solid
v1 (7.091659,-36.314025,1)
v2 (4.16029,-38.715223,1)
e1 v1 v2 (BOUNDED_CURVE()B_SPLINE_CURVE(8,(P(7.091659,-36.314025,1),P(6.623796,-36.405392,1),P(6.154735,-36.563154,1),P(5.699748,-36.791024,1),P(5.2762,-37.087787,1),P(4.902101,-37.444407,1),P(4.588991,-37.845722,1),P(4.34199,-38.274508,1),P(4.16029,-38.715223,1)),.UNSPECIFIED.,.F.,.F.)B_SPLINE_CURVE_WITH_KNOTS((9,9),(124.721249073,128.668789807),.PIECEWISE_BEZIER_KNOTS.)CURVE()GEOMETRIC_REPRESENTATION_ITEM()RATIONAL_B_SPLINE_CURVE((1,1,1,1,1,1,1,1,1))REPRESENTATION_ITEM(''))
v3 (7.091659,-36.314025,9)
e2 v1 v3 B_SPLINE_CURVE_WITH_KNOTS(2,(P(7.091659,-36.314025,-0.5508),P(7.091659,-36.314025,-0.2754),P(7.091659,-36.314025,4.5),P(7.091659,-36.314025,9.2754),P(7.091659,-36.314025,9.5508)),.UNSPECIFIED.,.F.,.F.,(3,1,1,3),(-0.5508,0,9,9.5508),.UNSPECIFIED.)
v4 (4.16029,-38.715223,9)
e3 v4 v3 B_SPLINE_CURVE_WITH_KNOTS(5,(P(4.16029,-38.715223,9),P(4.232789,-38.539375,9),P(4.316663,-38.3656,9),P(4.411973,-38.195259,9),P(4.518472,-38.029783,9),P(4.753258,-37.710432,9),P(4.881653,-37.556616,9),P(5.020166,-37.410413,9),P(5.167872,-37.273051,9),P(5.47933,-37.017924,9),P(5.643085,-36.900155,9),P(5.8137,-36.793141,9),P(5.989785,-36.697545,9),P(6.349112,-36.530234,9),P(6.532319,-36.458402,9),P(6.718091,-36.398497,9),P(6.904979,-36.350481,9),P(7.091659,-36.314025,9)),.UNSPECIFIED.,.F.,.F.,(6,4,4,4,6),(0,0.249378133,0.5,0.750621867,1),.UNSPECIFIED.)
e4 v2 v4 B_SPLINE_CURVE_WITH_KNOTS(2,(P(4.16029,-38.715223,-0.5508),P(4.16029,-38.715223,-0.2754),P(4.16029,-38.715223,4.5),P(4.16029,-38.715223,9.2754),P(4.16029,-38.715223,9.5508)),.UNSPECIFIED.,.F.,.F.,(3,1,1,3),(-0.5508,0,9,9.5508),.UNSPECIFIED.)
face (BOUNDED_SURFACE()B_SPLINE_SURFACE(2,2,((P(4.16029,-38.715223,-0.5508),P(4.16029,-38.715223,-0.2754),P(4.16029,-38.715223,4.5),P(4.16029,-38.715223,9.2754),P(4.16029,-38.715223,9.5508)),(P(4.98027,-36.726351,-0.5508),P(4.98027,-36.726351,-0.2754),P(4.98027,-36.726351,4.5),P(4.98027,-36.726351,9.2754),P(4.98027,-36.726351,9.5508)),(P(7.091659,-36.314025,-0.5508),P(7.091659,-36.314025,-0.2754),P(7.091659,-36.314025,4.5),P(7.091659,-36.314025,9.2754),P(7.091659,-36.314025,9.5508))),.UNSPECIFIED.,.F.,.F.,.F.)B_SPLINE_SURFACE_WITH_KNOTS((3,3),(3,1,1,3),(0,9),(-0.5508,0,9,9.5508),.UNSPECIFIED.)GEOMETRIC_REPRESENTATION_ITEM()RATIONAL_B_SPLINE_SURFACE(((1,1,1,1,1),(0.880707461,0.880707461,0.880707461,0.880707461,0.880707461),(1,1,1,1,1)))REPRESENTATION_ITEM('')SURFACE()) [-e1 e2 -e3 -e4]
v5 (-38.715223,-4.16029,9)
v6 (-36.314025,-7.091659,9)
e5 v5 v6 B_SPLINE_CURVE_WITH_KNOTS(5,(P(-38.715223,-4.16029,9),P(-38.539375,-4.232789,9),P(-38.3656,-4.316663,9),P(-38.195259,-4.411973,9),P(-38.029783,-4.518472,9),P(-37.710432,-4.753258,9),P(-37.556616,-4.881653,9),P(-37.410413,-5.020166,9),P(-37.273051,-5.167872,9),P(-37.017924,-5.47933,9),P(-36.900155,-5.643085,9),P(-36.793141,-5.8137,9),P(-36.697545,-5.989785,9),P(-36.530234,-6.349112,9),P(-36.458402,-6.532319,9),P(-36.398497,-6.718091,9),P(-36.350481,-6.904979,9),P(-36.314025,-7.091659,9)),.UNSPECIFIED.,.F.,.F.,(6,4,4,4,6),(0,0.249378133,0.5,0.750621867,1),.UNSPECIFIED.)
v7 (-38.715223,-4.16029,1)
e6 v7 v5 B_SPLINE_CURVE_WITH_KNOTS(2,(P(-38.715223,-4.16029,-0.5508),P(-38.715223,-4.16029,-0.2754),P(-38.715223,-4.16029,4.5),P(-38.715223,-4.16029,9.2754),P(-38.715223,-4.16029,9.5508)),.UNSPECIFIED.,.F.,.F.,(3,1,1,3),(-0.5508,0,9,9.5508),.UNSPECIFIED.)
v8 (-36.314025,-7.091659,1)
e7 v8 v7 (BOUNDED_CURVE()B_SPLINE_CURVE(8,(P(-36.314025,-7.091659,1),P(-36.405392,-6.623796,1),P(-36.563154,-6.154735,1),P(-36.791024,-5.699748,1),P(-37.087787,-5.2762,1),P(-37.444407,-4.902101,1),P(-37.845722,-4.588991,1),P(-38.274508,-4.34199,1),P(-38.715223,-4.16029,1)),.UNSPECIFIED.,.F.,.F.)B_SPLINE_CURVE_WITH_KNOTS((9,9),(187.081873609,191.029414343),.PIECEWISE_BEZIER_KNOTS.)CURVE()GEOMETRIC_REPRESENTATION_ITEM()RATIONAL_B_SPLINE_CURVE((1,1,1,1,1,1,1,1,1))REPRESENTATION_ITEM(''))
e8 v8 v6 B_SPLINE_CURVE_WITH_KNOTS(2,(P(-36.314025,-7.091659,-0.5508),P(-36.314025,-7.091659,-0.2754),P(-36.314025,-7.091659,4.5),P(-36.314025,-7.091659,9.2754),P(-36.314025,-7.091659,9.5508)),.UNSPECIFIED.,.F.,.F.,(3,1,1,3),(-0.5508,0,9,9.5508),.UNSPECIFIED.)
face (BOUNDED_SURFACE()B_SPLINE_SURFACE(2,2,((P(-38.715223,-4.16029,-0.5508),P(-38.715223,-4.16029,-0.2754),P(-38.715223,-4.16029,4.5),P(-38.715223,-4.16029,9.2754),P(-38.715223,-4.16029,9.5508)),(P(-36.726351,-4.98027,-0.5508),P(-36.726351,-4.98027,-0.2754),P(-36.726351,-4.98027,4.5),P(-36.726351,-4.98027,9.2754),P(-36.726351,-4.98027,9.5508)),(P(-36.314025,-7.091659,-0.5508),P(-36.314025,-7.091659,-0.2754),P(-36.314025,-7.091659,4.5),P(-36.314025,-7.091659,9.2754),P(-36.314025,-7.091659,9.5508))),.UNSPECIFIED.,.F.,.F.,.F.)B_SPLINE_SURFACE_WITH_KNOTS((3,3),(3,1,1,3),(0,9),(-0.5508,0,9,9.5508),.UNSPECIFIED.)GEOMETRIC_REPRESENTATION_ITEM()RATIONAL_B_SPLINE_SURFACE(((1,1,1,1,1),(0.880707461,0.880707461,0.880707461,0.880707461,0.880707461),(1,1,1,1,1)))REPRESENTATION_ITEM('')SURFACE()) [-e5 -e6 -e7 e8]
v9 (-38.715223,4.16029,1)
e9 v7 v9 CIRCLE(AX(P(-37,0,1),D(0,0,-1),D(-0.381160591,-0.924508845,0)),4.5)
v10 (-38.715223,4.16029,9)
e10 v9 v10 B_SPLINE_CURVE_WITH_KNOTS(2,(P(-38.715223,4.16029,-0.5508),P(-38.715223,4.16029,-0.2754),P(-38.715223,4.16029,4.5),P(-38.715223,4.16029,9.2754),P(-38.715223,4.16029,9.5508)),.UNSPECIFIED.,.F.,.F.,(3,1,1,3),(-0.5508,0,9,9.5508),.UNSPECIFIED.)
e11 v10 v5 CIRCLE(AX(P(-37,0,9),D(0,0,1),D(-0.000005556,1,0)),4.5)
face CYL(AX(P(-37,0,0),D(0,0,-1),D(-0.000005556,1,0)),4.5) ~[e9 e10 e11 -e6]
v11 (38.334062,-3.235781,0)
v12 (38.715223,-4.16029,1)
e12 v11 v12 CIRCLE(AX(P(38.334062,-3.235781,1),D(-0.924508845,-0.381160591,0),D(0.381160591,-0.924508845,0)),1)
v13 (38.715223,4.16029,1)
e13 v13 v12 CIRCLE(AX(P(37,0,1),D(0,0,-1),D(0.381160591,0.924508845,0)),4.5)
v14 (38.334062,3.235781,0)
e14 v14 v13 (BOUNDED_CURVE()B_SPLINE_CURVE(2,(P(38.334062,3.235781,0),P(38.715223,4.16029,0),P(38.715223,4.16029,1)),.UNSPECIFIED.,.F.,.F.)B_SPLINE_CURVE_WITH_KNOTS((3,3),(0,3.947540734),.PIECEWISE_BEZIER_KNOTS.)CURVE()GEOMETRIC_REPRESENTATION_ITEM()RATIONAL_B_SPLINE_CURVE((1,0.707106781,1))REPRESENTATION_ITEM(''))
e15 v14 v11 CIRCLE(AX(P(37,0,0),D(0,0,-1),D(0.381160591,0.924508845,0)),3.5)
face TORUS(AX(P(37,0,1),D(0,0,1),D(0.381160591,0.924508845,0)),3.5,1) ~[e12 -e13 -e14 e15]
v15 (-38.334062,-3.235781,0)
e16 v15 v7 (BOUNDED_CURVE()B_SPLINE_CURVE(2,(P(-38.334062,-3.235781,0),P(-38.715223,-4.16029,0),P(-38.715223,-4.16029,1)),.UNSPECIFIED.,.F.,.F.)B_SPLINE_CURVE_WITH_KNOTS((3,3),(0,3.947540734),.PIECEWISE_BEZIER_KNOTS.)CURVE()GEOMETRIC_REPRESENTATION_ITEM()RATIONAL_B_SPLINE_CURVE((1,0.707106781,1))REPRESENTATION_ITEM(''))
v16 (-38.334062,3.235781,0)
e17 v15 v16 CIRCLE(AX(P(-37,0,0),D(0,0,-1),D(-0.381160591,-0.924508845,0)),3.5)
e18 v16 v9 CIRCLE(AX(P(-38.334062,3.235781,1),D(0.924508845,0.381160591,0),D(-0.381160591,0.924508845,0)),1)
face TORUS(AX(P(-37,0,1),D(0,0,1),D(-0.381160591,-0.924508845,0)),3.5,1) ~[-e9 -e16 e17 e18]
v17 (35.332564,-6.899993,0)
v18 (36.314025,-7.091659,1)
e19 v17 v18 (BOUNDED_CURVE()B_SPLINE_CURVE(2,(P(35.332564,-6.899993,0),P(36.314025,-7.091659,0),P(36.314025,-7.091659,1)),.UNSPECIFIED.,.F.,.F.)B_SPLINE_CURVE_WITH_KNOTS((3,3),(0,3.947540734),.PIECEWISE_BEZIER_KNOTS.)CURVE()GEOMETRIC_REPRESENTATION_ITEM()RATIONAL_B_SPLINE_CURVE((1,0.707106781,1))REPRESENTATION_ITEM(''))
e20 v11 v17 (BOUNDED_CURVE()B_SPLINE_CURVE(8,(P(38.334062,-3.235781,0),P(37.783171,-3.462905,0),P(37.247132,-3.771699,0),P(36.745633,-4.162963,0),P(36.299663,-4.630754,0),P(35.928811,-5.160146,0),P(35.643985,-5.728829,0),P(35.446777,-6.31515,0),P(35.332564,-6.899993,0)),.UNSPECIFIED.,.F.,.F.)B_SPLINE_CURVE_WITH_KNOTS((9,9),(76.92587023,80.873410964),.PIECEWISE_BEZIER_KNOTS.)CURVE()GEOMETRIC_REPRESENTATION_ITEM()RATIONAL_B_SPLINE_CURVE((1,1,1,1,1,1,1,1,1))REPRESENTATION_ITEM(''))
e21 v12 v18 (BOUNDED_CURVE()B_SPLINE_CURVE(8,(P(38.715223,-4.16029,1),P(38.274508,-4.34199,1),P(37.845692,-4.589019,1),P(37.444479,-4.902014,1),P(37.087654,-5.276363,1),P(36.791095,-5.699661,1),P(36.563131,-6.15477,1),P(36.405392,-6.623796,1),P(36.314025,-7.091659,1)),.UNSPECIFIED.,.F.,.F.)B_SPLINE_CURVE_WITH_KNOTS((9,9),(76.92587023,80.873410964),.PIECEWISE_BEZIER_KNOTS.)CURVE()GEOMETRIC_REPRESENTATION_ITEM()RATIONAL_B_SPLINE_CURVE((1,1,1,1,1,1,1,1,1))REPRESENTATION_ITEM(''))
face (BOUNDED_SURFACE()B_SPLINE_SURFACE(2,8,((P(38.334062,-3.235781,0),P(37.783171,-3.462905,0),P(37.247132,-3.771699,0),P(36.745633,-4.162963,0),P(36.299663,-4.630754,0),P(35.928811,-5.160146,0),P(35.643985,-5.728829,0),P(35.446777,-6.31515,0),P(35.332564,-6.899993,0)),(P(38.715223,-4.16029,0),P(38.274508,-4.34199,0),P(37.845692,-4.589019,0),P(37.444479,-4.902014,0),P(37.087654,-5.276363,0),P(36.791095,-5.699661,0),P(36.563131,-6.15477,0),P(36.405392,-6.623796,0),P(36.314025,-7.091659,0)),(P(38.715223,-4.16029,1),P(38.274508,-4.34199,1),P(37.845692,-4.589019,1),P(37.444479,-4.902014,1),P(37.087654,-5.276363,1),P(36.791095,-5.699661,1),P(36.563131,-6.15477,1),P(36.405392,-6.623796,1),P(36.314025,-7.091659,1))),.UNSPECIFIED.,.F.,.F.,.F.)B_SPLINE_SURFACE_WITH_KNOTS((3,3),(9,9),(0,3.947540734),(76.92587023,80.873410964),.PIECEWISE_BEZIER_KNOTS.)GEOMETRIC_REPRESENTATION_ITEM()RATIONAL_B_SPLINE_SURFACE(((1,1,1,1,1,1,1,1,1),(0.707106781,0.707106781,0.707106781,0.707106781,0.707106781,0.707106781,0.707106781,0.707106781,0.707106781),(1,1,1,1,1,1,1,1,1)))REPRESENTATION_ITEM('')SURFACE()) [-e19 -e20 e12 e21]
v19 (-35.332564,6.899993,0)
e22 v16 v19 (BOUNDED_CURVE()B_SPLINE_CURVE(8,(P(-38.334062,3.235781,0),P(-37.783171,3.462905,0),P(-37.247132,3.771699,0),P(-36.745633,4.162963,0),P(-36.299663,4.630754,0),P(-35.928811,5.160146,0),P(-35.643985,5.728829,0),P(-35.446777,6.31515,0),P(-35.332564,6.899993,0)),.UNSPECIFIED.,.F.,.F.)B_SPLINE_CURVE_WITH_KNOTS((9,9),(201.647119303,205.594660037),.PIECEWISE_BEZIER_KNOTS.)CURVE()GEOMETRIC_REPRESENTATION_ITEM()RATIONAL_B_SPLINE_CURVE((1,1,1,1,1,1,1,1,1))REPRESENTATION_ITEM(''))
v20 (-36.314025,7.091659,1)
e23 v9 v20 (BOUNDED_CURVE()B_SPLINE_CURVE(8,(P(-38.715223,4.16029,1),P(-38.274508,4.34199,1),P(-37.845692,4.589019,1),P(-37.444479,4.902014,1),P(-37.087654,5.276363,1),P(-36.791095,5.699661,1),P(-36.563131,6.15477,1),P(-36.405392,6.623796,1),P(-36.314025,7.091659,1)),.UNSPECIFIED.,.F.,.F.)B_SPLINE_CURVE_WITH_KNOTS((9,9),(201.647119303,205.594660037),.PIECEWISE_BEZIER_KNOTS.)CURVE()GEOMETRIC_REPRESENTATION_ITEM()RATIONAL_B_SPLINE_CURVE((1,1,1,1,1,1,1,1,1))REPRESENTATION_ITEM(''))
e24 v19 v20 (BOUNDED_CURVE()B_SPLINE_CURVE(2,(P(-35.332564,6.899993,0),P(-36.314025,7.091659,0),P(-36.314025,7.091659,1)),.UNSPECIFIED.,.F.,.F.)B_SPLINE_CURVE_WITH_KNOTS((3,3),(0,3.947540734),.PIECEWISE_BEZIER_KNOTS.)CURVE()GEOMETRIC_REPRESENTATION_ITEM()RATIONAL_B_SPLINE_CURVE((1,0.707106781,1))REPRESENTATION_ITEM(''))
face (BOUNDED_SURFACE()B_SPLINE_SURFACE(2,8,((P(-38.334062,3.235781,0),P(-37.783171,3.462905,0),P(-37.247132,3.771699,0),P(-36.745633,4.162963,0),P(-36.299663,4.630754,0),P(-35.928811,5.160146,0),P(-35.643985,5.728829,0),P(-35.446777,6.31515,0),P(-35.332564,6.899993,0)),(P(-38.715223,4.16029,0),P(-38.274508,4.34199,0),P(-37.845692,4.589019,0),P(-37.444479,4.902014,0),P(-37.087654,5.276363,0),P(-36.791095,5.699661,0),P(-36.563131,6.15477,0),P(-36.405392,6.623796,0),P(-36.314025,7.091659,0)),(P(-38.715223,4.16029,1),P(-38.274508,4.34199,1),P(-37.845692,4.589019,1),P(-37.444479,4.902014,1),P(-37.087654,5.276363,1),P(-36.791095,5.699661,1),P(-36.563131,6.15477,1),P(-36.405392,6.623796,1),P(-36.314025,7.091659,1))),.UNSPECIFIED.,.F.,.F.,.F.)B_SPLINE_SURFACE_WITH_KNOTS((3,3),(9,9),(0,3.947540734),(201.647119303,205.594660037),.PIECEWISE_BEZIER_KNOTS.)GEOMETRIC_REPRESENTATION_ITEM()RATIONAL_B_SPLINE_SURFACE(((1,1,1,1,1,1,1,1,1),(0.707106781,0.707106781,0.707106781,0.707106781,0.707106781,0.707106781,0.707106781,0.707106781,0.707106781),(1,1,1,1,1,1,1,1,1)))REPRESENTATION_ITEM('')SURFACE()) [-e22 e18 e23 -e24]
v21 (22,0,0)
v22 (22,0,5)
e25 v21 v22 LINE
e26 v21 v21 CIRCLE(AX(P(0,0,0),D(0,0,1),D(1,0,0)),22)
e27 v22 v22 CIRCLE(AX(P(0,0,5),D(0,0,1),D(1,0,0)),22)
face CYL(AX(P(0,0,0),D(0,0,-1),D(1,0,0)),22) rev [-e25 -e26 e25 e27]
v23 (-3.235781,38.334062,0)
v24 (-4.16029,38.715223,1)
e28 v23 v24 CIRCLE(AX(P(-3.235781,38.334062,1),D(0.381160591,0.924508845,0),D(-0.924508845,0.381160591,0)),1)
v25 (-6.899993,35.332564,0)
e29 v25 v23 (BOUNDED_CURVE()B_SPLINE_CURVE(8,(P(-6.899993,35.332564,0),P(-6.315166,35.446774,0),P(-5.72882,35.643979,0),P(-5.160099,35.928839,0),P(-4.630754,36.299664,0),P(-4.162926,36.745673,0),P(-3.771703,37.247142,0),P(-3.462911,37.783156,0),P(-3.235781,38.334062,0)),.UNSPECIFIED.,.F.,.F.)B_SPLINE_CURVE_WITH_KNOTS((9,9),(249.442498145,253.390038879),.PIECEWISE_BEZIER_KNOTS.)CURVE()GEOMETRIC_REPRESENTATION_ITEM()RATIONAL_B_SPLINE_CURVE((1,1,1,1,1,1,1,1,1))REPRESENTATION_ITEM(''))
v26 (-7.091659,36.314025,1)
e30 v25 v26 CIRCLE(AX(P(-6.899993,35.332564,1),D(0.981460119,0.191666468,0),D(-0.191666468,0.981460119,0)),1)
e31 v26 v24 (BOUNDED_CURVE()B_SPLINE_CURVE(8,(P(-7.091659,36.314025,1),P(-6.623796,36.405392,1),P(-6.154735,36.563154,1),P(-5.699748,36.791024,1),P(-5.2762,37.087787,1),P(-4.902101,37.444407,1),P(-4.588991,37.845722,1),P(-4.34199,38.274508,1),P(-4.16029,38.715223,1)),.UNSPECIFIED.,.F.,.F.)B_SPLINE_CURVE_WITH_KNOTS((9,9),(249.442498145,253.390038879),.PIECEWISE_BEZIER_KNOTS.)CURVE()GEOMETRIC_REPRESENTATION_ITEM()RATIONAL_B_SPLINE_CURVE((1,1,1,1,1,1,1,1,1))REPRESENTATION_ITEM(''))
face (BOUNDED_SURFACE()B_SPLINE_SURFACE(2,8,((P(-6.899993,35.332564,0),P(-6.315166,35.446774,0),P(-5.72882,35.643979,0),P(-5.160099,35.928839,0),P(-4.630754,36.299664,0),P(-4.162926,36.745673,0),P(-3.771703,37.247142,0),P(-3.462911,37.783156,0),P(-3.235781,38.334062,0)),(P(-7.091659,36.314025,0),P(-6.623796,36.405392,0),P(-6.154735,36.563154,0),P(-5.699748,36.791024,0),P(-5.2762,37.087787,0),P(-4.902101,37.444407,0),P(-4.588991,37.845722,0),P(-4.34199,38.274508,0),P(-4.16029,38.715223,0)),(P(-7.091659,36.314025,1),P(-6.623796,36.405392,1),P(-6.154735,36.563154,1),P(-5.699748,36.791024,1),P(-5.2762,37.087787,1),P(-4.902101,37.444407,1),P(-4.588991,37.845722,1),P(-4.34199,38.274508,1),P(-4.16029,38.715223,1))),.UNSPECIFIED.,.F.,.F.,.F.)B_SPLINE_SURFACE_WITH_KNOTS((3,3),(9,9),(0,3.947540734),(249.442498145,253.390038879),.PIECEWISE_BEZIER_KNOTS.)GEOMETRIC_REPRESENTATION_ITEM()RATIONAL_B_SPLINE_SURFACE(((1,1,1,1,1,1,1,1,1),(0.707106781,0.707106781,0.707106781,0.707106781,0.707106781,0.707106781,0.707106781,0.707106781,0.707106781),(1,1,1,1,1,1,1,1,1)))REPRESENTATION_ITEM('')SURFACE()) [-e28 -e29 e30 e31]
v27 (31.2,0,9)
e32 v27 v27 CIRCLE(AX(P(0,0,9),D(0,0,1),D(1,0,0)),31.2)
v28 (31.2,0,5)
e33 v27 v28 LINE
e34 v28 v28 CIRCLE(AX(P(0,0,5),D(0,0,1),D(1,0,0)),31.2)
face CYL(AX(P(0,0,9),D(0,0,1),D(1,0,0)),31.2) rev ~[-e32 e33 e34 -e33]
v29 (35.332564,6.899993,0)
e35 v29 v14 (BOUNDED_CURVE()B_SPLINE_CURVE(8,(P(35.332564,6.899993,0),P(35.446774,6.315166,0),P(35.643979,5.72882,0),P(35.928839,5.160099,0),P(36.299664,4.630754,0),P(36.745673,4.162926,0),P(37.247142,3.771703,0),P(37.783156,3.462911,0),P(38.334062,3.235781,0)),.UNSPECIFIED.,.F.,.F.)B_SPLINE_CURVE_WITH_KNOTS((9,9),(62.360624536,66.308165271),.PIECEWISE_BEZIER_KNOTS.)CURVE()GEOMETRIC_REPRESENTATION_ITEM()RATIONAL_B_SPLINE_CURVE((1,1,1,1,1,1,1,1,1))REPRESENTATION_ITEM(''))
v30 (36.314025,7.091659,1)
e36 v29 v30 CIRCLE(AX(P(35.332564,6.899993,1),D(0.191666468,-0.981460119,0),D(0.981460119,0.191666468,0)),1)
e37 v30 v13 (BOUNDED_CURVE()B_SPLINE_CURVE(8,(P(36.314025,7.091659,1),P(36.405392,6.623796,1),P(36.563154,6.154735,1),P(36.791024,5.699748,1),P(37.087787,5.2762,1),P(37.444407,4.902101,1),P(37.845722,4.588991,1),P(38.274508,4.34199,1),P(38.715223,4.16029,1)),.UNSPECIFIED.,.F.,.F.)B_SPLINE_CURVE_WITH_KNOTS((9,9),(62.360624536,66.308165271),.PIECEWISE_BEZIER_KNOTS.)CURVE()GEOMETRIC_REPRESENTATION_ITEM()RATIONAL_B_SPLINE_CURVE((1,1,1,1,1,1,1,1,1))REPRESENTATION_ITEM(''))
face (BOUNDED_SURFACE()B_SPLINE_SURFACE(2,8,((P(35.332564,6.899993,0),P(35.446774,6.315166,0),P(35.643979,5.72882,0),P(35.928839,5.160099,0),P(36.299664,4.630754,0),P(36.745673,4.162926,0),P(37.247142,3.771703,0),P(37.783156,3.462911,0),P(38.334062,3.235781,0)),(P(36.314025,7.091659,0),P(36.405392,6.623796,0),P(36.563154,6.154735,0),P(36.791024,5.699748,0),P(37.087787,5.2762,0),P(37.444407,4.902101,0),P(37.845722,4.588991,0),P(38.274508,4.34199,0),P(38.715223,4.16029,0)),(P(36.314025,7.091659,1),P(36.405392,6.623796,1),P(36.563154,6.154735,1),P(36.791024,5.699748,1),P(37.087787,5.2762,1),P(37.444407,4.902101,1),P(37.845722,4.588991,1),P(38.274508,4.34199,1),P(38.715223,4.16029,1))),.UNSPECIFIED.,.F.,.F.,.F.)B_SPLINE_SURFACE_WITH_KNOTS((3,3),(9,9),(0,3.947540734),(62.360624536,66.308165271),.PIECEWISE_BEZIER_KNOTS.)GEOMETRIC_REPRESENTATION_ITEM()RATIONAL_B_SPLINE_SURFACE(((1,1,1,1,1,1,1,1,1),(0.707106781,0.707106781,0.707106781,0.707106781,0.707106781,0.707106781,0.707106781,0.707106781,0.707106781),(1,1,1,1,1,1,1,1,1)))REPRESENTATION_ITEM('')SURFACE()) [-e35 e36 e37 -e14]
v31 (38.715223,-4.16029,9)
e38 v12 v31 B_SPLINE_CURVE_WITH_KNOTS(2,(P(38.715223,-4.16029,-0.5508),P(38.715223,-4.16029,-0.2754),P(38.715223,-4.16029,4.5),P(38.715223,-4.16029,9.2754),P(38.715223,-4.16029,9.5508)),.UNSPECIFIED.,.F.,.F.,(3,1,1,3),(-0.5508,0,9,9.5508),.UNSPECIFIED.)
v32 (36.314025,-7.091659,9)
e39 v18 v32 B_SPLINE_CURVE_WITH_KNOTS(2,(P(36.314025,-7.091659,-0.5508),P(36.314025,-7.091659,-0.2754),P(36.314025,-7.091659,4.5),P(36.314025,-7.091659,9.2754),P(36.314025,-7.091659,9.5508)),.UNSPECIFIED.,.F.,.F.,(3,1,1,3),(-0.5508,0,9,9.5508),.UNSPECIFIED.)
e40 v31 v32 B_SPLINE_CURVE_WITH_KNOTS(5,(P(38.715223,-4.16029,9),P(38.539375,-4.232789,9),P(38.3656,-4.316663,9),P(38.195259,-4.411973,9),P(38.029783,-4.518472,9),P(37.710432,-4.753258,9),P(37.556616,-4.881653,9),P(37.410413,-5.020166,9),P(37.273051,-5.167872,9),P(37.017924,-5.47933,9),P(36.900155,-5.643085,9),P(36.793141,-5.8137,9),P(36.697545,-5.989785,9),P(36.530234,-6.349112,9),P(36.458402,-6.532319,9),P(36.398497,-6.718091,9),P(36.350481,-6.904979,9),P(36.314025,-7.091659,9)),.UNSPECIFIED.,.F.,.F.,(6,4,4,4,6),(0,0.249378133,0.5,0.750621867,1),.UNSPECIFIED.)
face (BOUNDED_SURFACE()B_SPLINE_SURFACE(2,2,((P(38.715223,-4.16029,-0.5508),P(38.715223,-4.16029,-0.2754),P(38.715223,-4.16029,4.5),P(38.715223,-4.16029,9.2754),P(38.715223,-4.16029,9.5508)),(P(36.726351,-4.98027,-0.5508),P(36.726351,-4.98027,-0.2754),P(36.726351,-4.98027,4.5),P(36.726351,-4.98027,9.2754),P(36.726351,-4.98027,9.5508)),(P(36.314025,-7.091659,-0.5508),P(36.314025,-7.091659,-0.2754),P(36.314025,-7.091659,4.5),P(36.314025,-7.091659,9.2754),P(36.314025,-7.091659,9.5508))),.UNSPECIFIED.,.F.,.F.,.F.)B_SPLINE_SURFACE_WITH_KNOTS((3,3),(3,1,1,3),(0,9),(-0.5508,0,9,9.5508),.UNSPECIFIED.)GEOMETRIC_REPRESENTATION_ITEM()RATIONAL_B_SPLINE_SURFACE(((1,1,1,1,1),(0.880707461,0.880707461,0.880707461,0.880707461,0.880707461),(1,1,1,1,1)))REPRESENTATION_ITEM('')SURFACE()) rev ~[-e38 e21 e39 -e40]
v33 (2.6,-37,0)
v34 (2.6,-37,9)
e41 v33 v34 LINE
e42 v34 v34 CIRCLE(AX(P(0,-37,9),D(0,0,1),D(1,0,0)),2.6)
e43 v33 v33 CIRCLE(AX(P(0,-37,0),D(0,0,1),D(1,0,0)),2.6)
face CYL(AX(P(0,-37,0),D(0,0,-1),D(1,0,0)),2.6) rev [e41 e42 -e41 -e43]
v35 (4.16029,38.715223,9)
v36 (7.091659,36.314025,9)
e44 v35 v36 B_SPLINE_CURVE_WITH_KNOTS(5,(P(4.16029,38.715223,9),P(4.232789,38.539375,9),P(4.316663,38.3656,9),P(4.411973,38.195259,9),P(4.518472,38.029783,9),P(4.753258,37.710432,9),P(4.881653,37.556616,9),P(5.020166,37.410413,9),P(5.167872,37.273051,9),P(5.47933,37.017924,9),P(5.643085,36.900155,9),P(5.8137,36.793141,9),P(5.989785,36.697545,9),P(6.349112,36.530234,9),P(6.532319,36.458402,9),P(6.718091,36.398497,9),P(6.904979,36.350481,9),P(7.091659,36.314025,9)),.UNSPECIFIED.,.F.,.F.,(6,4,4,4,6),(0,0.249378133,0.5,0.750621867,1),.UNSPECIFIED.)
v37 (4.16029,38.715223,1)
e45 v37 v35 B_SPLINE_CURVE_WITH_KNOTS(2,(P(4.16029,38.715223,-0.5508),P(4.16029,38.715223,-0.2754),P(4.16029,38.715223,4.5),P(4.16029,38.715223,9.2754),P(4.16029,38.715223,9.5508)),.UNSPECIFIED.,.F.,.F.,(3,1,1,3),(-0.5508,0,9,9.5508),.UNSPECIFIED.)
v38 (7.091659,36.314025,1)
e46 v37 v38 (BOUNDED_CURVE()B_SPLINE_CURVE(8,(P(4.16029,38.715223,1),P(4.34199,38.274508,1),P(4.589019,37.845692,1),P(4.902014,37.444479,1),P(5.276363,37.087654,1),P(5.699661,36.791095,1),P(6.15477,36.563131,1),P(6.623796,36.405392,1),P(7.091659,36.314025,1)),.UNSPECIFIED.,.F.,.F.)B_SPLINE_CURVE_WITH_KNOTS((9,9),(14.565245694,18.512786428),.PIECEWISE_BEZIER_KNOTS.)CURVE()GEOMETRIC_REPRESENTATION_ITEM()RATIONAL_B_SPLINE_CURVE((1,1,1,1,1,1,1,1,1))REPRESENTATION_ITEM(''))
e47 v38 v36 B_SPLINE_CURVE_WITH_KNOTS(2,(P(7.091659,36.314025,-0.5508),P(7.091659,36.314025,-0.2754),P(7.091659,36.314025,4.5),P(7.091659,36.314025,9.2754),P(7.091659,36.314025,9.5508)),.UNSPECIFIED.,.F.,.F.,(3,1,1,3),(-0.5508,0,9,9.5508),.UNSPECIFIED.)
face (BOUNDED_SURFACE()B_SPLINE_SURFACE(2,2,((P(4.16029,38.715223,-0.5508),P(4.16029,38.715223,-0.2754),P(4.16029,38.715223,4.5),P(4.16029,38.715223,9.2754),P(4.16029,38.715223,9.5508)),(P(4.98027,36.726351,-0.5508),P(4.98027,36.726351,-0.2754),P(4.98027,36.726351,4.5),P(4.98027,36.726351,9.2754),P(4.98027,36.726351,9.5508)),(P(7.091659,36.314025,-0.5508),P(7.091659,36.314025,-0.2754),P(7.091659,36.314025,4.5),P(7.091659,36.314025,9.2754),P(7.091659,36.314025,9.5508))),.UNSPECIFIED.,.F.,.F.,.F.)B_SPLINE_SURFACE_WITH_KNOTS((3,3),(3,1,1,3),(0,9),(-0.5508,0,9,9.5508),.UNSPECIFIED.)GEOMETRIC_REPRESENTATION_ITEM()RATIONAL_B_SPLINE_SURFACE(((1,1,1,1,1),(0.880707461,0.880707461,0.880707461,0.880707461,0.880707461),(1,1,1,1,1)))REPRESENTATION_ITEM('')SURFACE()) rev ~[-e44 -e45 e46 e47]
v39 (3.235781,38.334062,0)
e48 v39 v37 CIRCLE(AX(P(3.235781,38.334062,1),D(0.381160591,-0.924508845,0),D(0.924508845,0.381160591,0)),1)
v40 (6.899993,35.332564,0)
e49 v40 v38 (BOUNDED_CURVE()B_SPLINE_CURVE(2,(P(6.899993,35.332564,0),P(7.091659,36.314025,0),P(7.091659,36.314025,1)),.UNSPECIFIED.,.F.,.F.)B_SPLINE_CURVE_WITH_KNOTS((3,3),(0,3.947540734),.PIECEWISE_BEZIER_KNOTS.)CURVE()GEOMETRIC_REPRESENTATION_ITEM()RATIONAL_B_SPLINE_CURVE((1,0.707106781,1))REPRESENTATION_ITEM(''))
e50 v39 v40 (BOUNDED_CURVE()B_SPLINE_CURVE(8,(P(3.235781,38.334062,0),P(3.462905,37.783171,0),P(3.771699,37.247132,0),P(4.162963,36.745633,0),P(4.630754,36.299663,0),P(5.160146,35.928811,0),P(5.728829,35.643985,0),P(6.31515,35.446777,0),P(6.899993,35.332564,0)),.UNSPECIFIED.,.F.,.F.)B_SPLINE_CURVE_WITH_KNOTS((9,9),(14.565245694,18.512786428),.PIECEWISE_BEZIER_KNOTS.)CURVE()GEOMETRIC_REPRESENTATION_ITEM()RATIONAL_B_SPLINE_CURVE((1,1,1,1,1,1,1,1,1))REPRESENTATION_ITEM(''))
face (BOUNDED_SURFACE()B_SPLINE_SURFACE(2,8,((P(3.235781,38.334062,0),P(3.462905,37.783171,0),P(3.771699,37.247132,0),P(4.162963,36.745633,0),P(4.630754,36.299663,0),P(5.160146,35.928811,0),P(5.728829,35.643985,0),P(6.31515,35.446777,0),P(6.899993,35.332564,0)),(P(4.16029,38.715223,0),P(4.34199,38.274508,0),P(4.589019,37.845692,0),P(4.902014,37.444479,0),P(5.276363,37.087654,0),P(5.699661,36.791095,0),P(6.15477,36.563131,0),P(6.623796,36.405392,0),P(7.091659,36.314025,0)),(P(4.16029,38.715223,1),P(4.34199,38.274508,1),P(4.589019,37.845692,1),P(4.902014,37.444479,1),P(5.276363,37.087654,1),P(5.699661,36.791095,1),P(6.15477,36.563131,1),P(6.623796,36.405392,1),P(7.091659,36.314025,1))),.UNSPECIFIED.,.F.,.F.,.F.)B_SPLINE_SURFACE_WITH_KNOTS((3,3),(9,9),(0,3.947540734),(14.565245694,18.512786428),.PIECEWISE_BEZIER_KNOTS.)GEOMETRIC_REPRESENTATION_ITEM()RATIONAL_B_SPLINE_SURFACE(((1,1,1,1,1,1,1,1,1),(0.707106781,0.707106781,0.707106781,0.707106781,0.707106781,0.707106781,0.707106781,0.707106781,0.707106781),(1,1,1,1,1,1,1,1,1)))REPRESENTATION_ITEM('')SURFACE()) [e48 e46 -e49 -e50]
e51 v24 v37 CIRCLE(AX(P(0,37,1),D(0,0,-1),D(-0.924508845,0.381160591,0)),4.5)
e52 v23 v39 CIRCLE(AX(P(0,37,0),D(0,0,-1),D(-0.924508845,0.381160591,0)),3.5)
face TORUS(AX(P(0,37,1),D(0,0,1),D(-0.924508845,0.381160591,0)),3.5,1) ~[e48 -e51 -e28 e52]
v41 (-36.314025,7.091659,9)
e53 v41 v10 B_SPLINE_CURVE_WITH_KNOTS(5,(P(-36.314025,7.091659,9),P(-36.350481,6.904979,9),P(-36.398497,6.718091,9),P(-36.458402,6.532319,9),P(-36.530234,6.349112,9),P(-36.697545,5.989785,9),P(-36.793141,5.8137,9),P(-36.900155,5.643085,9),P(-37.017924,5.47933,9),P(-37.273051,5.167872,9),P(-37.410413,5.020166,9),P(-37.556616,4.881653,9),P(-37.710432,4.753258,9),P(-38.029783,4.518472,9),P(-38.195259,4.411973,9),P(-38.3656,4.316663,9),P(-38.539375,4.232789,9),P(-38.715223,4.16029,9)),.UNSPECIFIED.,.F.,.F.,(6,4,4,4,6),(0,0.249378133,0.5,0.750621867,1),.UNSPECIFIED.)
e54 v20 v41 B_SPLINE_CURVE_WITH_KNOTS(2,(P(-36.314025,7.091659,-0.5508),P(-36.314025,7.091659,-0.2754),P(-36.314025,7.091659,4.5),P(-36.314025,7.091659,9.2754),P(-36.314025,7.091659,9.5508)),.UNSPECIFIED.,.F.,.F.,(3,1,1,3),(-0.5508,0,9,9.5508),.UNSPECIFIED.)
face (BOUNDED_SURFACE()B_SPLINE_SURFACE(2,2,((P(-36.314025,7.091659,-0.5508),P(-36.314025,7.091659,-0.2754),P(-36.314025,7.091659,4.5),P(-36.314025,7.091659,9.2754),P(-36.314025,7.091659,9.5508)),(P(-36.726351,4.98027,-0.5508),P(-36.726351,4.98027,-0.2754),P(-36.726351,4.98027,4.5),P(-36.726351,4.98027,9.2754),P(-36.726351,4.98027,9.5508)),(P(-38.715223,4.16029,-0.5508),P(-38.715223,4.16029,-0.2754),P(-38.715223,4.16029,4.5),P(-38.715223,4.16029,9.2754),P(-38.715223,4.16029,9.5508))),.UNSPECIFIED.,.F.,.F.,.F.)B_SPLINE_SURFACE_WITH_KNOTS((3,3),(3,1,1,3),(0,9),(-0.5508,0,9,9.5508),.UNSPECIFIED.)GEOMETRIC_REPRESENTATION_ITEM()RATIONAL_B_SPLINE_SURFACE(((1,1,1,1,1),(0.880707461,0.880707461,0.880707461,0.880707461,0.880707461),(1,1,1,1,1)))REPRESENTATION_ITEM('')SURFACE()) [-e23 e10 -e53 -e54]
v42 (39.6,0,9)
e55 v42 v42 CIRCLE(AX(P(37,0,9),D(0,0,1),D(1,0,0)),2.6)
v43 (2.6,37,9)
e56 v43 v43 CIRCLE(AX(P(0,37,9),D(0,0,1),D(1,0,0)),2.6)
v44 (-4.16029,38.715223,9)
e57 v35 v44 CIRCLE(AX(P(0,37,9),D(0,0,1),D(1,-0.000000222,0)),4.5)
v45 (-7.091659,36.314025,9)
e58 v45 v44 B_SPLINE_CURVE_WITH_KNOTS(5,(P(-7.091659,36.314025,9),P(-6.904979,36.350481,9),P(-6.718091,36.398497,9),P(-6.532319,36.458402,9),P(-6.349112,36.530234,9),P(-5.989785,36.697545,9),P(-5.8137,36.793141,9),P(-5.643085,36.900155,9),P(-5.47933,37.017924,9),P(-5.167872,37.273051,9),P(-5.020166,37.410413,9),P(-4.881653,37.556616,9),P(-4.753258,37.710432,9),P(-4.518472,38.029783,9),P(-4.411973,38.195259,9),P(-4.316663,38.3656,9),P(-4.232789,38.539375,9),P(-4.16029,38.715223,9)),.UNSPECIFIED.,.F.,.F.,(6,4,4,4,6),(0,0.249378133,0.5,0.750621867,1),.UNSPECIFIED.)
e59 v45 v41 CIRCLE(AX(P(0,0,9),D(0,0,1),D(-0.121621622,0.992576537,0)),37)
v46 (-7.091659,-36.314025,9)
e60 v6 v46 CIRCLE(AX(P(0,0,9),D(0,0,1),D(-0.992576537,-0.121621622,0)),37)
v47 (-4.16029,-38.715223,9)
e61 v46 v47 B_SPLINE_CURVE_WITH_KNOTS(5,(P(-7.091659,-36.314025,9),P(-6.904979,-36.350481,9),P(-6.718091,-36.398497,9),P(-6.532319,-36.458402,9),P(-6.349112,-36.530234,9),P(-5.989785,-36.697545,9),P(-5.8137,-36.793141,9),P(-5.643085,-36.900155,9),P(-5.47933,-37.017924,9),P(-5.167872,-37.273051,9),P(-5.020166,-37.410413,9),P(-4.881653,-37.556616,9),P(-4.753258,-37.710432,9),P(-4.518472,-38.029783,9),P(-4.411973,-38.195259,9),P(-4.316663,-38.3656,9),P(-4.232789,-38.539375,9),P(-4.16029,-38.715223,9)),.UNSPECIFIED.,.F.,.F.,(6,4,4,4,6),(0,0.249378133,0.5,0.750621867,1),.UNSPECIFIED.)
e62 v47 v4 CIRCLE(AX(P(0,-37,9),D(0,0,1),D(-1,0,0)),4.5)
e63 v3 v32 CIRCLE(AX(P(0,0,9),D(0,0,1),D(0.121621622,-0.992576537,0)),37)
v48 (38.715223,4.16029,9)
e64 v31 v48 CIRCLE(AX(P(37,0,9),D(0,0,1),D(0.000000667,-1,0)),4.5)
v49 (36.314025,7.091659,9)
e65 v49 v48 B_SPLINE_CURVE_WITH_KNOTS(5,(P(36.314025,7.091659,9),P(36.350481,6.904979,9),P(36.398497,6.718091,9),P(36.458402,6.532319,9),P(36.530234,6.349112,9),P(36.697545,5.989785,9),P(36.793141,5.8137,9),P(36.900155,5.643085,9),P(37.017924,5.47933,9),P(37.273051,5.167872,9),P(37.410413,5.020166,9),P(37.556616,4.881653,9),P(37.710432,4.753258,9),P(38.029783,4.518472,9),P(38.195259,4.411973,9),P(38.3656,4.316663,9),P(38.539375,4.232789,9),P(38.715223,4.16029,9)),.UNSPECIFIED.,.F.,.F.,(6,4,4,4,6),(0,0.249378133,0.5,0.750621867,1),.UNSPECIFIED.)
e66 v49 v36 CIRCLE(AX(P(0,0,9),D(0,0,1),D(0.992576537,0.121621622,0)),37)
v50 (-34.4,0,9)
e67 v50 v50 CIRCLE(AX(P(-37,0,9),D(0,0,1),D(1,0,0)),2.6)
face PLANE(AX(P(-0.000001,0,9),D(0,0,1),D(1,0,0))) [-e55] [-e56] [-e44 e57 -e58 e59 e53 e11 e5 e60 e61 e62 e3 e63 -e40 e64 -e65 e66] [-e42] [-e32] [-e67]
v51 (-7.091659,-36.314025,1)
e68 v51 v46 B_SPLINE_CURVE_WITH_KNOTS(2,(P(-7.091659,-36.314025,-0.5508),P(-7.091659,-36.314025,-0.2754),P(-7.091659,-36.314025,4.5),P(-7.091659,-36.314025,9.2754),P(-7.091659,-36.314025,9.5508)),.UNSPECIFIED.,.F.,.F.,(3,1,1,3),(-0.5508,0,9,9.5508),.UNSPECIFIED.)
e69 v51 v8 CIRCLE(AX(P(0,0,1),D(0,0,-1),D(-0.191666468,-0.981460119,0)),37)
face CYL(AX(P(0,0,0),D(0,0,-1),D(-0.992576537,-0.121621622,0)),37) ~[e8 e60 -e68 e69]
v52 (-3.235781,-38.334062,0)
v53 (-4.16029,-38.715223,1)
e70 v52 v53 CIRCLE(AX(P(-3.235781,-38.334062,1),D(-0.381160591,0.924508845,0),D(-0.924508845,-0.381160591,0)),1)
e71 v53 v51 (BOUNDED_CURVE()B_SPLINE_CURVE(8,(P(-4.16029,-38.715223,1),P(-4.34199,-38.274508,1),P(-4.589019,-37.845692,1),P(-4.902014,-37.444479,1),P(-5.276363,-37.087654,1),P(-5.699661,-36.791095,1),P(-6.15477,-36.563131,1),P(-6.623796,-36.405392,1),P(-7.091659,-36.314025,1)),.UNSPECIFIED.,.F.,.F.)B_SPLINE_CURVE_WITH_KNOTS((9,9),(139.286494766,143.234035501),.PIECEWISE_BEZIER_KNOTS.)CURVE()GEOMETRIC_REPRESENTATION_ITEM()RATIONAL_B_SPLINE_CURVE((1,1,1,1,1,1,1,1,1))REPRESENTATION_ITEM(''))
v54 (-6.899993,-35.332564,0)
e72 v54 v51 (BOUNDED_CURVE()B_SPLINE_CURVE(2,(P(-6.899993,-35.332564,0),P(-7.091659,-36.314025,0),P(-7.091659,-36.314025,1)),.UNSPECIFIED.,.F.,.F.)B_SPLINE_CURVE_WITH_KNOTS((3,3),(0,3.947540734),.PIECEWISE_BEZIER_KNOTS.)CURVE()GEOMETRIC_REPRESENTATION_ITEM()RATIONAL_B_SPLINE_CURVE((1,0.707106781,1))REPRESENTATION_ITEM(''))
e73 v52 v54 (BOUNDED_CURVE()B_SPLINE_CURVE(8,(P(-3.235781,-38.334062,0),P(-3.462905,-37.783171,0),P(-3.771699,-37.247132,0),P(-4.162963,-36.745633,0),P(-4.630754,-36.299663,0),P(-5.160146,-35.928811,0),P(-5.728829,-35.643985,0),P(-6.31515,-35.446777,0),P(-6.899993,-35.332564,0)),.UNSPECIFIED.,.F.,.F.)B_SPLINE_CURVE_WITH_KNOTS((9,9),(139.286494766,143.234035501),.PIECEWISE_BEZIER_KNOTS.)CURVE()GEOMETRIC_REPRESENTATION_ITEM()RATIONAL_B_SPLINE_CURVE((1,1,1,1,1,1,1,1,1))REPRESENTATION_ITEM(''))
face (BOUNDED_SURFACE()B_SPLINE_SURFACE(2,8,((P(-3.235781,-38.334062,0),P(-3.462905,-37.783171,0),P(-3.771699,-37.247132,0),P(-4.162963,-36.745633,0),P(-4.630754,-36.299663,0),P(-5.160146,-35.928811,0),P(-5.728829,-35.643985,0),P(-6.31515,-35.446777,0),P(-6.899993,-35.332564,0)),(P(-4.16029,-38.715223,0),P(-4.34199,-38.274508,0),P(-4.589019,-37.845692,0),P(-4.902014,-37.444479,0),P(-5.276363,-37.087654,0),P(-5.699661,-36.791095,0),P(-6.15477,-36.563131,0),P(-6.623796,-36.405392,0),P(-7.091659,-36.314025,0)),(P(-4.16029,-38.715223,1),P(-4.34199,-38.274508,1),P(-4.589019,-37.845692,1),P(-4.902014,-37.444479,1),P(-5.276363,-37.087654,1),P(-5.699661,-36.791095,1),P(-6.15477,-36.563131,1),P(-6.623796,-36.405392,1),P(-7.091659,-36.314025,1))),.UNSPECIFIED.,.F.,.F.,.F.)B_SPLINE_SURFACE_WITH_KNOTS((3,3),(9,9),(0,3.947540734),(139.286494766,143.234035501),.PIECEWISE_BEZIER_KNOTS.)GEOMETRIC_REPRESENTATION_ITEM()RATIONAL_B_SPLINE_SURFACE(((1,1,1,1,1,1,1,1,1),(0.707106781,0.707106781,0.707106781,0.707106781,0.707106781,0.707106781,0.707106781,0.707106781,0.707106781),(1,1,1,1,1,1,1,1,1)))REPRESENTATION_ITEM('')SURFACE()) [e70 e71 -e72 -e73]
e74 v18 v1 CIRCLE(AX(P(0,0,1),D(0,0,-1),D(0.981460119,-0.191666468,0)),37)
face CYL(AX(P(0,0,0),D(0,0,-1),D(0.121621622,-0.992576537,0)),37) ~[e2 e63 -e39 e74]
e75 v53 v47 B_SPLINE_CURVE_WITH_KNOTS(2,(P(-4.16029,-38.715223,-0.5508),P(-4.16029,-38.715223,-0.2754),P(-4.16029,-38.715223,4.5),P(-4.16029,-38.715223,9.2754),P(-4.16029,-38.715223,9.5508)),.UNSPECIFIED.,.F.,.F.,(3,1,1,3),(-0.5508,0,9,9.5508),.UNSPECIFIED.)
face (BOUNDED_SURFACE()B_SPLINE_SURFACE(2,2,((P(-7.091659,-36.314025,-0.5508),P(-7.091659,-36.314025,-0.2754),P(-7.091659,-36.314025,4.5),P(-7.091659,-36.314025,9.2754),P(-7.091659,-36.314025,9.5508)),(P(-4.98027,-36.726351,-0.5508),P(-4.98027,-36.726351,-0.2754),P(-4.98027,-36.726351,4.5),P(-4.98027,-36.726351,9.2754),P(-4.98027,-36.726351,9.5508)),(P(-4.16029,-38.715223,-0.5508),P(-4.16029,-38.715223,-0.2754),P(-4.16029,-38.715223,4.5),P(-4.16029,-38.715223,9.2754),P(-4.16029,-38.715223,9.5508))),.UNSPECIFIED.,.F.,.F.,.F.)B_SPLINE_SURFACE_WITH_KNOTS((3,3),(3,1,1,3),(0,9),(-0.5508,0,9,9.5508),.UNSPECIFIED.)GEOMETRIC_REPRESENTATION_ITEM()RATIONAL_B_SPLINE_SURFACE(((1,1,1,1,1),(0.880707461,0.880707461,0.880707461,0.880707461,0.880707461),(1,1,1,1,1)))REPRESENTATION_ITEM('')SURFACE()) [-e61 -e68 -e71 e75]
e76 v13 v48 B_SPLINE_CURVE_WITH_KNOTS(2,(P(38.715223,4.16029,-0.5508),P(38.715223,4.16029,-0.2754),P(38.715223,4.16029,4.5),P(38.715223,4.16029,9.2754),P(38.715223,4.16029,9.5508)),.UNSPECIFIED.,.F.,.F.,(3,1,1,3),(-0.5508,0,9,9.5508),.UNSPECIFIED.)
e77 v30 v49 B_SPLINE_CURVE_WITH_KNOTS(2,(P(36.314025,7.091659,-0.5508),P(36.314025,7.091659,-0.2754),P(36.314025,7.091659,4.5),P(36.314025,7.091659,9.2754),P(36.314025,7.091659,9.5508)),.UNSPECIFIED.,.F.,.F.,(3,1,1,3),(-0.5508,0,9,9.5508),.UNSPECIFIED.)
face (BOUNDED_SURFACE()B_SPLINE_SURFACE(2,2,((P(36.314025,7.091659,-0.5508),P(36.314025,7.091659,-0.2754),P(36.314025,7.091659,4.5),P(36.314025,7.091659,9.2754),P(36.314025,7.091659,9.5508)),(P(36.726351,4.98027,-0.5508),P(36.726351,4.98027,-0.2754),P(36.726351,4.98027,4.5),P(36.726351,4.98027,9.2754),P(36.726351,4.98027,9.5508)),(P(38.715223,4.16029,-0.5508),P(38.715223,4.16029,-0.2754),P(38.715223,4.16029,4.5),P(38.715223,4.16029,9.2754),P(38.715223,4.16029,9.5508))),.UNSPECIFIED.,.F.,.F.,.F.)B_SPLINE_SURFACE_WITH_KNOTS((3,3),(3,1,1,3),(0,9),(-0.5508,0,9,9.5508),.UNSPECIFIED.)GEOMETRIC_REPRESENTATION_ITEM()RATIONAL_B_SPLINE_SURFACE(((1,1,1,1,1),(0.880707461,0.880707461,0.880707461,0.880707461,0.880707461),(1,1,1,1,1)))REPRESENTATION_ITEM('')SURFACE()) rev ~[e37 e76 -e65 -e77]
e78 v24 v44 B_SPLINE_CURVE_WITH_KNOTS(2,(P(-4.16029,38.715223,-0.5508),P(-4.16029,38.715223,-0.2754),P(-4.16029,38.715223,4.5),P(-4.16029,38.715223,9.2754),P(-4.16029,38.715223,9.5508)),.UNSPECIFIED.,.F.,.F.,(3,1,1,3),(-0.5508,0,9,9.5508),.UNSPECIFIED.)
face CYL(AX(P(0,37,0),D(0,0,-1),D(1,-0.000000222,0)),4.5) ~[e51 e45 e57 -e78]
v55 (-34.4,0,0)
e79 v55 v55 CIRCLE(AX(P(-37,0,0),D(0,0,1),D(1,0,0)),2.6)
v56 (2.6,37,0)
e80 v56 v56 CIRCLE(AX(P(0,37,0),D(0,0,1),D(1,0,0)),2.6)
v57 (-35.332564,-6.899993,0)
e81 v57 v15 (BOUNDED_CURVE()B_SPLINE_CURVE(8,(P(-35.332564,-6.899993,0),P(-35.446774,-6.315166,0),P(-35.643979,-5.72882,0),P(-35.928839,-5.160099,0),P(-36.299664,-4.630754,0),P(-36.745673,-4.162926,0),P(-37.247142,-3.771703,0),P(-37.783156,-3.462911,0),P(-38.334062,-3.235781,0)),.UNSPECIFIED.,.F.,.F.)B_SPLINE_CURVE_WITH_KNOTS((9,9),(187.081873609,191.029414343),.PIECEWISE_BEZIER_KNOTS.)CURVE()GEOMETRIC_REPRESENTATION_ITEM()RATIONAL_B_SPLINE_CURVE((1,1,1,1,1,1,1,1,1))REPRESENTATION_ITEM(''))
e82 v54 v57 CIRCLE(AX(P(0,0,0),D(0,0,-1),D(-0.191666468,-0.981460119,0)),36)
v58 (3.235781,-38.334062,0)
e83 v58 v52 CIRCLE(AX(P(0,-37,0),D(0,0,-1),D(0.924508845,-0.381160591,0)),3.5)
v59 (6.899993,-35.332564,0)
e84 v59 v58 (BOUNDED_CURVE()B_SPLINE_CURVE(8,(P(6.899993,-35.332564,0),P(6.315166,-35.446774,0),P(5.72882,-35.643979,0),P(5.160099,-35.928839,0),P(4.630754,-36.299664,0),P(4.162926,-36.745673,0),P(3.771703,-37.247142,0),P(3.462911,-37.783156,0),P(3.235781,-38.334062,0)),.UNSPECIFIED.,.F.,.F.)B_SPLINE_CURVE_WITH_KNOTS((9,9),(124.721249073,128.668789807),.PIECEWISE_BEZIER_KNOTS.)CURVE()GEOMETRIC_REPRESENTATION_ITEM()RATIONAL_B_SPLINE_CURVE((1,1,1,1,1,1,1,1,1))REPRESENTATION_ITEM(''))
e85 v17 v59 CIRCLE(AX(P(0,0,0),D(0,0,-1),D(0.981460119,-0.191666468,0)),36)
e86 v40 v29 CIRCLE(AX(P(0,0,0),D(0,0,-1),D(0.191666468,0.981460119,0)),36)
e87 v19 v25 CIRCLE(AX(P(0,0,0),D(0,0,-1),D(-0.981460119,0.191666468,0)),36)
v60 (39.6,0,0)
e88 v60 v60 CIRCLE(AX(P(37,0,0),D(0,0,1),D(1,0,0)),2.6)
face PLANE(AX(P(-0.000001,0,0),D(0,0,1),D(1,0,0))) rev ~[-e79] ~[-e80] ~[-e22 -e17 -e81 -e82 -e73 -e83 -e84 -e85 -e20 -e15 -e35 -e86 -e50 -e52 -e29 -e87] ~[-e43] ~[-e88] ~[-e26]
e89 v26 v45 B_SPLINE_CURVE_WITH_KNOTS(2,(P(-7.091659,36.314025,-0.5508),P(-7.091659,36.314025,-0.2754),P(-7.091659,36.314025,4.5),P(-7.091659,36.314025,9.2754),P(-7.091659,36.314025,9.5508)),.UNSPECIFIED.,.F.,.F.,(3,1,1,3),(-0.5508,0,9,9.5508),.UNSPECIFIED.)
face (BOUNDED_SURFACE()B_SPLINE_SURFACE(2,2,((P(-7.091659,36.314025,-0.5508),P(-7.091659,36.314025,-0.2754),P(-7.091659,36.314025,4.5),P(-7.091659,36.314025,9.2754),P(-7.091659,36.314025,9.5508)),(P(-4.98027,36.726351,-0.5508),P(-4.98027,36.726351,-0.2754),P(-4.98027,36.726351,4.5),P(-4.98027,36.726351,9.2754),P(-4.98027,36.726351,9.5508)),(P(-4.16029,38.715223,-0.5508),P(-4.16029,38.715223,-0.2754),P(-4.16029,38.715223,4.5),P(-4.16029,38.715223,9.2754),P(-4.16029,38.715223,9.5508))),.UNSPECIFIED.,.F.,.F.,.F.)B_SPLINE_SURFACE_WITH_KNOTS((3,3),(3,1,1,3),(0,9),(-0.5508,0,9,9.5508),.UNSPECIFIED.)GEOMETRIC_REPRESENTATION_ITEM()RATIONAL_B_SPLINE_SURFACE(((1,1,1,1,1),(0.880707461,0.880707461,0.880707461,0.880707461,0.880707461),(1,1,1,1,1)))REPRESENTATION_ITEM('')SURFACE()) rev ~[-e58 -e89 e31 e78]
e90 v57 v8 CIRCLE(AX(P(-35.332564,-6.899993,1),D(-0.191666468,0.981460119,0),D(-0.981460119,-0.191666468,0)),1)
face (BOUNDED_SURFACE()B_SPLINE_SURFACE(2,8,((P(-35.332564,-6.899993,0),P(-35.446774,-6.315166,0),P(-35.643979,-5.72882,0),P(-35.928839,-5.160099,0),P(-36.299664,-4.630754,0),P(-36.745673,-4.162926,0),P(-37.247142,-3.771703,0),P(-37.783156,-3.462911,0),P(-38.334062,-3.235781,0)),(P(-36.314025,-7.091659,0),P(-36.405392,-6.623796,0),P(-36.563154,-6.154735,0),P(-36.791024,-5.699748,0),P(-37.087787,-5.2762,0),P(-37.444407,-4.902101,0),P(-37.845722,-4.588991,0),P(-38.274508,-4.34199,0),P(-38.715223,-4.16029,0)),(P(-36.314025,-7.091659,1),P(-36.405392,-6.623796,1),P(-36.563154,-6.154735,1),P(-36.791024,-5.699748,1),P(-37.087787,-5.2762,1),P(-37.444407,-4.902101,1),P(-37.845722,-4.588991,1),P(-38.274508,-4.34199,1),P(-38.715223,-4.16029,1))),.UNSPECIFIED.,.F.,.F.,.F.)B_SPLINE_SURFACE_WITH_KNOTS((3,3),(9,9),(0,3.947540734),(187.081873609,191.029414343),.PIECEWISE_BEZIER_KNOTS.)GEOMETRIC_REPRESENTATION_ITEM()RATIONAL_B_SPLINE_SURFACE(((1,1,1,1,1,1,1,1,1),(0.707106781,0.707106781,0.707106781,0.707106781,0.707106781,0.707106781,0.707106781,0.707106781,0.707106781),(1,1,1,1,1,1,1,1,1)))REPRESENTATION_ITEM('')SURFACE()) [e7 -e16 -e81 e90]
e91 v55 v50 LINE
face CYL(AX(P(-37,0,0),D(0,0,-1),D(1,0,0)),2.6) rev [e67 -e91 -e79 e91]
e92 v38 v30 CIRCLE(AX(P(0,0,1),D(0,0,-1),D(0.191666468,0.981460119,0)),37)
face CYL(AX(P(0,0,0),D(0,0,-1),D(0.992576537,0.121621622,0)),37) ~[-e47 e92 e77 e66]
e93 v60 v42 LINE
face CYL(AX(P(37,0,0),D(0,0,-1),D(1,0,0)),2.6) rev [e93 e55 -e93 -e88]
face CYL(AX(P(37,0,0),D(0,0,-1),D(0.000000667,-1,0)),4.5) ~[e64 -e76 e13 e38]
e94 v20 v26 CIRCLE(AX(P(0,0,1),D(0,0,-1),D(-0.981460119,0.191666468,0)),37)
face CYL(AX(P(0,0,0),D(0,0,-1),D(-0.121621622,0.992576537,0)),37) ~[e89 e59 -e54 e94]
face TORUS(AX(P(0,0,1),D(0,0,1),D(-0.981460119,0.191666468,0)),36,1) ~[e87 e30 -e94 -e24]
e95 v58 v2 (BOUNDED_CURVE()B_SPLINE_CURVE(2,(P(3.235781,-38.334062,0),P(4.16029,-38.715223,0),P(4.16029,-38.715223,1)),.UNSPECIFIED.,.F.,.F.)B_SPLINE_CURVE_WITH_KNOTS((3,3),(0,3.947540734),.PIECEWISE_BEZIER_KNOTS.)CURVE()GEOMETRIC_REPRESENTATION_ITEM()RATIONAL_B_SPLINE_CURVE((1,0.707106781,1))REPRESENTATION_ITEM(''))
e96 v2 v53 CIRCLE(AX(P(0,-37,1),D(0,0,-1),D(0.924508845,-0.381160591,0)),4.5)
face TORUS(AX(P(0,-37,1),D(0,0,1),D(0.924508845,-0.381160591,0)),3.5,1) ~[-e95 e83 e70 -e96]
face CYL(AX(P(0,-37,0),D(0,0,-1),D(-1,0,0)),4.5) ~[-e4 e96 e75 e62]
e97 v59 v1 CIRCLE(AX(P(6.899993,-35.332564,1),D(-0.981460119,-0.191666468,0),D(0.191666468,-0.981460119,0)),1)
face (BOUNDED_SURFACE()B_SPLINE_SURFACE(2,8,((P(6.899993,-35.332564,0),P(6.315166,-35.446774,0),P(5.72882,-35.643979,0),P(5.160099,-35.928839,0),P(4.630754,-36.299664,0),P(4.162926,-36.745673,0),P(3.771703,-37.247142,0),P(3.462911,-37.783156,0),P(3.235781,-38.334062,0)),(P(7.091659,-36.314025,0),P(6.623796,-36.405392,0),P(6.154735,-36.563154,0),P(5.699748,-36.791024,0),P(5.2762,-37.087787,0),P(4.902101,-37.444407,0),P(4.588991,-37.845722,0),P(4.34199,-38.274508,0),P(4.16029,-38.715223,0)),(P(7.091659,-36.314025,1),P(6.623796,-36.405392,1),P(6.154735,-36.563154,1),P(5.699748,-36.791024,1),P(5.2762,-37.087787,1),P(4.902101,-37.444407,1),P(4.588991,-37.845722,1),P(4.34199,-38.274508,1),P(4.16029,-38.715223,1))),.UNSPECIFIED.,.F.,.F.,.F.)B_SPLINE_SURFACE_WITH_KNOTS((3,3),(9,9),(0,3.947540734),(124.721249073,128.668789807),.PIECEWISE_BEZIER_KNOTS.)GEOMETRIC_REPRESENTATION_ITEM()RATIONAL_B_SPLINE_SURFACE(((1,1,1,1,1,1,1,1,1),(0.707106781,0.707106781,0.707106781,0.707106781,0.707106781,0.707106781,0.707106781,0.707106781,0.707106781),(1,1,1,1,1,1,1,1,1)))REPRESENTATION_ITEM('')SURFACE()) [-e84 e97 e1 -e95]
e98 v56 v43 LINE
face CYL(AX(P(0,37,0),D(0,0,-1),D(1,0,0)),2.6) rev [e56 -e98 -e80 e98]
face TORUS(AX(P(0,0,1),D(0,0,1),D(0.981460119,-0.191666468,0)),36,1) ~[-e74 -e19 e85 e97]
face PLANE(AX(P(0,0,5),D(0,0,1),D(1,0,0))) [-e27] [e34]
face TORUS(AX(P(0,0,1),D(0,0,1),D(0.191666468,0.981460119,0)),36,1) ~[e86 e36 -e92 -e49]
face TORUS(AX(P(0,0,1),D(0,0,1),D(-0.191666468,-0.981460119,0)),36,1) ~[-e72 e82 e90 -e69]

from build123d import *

# Parameters (mm, degrees)
SKETCH_R      = 22
SKETCH_R_2    = 2.6
PAD_DEPTH     = 9
SKETCH001_R   = 31.2
SKETCH001_R_2 = 22
POCKET_DEPTH  = 4
FILLET_R      = 4
FILLET001_R   = 1


with BuildPart() as part:
    # Sketch → Pad (new body)
    with BuildSketch(Plane.XY):
        with BuildLine():
            ThreePointArc((-4.5, 36.725332), (-26.162951, 26.162951), (-36.725332, 4.5))
            Line((-37.000025, 4.5), (-36.725332, 4.5))
            ThreePointArc((-37.000025, 4.5), (-41.5, 0), (-37.000025, -4.5))
            Line((-37.000025, -4.5), (-36.725332, -4.5))
            ThreePointArc((-36.725332, -4.5), (-26.162951, -26.162951), (-4.5, -36.725332))
            Line((-4.5, -36.725332), (-4.5, -37))
            ThreePointArc((-4.5, -37), (0, -41.5), (4.5, -37.000001))
            Line((4.5, -36.725332), (4.5, -37.000001))
            ThreePointArc((4.5, -36.725332), (26.162951, -26.162951), (36.725332, -4.5))
            Line((36.725332, -4.5), (37.000003, -4.5))
            ThreePointArc((37.000003, -4.5), (41.5, 0), (37.000003, 4.5))
            Line((36.725332, 4.5), (37.000003, 4.5))
            ThreePointArc((36.725332, 4.5), (26.162951, 26.162951), (4.5, 36.725332))
            Line((4.5, 36.999999), (4.5, 36.725332))
            ThreePointArc((4.5, 36.999999), (1.1e-05, 41.5), (-4.5, 37.000021))
            Line((-4.5, 37.000021), (-4.5, 36.725332))
        make_face()
        Circle(SKETCH_R, mode=Mode.SUBTRACT)
        with Locations((0, 37)):
            Circle(SKETCH_R_2, mode=Mode.SUBTRACT)
        with Locations((0, -37)):
            Circle(SKETCH_R_2, mode=Mode.SUBTRACT)
        with Locations((-37, 0)):
            Circle(SKETCH_R_2, mode=Mode.SUBTRACT)
        with Locations((37, 0)):
            Circle(SKETCH_R_2, mode=Mode.SUBTRACT)
    extrude(amount=PAD_DEPTH)

    # Sketch001 → Pocket (cut)
    with BuildSketch(Plane.XY.offset(9)):
        Circle(SKETCH001_R)
        Circle(SKETCH001_R_2, mode=Mode.SUBTRACT)
    extrude(amount=-POCKET_DEPTH, mode=Mode.SUBTRACT)

    # Fillet
    fillet_edges = [part.edges().sort_by_distance(p)[0] for p in [
        (-36.725332, 4.5, 4.5),
        (-4.5, 36.725332, 4.5),
        (4.5, 36.725332, 4.5),
        (36.725332, 4.5, 4.5),
        (36.725332, -4.5, 4.5),
        (4.5, -36.725332, 4.5),
        (-4.5, -36.725332, 4.5),
        (-36.725332, -4.5, 4.5),
    ]]
    fillet(fillet_edges, radius=FILLET_R)

    # Fillet001
    fillet001_edges = [part.edges().sort_by_distance(p)[0] for p in [
        (-5.323601, 37.145487, 0),
        (-26.162951, 26.162951, 0),
        (0, 41.5, 0),
        (5.323601, 37.145487, 0),
        (26.162951, 26.162951, 0),
        (37.145487, 5.323601, 0),
        (41.5, 0, 0),
        (37.145487, -5.323601, 0),
        (26.162951, -26.162951, 0),
        (5.323601, -37.145487, 0),
        (0, -41.5, 0),
        (-5.323601, -37.145487, 0),
        (-26.162951, -26.162951, 0),
        (-37.145487, -5.323601, 0),
        (-41.5, 0, 0),
        (-37.145487, 5.323601, 0),
    ]]
    fillet(fillet001_edges, radius=FILLET001_R)


solid = part.part
